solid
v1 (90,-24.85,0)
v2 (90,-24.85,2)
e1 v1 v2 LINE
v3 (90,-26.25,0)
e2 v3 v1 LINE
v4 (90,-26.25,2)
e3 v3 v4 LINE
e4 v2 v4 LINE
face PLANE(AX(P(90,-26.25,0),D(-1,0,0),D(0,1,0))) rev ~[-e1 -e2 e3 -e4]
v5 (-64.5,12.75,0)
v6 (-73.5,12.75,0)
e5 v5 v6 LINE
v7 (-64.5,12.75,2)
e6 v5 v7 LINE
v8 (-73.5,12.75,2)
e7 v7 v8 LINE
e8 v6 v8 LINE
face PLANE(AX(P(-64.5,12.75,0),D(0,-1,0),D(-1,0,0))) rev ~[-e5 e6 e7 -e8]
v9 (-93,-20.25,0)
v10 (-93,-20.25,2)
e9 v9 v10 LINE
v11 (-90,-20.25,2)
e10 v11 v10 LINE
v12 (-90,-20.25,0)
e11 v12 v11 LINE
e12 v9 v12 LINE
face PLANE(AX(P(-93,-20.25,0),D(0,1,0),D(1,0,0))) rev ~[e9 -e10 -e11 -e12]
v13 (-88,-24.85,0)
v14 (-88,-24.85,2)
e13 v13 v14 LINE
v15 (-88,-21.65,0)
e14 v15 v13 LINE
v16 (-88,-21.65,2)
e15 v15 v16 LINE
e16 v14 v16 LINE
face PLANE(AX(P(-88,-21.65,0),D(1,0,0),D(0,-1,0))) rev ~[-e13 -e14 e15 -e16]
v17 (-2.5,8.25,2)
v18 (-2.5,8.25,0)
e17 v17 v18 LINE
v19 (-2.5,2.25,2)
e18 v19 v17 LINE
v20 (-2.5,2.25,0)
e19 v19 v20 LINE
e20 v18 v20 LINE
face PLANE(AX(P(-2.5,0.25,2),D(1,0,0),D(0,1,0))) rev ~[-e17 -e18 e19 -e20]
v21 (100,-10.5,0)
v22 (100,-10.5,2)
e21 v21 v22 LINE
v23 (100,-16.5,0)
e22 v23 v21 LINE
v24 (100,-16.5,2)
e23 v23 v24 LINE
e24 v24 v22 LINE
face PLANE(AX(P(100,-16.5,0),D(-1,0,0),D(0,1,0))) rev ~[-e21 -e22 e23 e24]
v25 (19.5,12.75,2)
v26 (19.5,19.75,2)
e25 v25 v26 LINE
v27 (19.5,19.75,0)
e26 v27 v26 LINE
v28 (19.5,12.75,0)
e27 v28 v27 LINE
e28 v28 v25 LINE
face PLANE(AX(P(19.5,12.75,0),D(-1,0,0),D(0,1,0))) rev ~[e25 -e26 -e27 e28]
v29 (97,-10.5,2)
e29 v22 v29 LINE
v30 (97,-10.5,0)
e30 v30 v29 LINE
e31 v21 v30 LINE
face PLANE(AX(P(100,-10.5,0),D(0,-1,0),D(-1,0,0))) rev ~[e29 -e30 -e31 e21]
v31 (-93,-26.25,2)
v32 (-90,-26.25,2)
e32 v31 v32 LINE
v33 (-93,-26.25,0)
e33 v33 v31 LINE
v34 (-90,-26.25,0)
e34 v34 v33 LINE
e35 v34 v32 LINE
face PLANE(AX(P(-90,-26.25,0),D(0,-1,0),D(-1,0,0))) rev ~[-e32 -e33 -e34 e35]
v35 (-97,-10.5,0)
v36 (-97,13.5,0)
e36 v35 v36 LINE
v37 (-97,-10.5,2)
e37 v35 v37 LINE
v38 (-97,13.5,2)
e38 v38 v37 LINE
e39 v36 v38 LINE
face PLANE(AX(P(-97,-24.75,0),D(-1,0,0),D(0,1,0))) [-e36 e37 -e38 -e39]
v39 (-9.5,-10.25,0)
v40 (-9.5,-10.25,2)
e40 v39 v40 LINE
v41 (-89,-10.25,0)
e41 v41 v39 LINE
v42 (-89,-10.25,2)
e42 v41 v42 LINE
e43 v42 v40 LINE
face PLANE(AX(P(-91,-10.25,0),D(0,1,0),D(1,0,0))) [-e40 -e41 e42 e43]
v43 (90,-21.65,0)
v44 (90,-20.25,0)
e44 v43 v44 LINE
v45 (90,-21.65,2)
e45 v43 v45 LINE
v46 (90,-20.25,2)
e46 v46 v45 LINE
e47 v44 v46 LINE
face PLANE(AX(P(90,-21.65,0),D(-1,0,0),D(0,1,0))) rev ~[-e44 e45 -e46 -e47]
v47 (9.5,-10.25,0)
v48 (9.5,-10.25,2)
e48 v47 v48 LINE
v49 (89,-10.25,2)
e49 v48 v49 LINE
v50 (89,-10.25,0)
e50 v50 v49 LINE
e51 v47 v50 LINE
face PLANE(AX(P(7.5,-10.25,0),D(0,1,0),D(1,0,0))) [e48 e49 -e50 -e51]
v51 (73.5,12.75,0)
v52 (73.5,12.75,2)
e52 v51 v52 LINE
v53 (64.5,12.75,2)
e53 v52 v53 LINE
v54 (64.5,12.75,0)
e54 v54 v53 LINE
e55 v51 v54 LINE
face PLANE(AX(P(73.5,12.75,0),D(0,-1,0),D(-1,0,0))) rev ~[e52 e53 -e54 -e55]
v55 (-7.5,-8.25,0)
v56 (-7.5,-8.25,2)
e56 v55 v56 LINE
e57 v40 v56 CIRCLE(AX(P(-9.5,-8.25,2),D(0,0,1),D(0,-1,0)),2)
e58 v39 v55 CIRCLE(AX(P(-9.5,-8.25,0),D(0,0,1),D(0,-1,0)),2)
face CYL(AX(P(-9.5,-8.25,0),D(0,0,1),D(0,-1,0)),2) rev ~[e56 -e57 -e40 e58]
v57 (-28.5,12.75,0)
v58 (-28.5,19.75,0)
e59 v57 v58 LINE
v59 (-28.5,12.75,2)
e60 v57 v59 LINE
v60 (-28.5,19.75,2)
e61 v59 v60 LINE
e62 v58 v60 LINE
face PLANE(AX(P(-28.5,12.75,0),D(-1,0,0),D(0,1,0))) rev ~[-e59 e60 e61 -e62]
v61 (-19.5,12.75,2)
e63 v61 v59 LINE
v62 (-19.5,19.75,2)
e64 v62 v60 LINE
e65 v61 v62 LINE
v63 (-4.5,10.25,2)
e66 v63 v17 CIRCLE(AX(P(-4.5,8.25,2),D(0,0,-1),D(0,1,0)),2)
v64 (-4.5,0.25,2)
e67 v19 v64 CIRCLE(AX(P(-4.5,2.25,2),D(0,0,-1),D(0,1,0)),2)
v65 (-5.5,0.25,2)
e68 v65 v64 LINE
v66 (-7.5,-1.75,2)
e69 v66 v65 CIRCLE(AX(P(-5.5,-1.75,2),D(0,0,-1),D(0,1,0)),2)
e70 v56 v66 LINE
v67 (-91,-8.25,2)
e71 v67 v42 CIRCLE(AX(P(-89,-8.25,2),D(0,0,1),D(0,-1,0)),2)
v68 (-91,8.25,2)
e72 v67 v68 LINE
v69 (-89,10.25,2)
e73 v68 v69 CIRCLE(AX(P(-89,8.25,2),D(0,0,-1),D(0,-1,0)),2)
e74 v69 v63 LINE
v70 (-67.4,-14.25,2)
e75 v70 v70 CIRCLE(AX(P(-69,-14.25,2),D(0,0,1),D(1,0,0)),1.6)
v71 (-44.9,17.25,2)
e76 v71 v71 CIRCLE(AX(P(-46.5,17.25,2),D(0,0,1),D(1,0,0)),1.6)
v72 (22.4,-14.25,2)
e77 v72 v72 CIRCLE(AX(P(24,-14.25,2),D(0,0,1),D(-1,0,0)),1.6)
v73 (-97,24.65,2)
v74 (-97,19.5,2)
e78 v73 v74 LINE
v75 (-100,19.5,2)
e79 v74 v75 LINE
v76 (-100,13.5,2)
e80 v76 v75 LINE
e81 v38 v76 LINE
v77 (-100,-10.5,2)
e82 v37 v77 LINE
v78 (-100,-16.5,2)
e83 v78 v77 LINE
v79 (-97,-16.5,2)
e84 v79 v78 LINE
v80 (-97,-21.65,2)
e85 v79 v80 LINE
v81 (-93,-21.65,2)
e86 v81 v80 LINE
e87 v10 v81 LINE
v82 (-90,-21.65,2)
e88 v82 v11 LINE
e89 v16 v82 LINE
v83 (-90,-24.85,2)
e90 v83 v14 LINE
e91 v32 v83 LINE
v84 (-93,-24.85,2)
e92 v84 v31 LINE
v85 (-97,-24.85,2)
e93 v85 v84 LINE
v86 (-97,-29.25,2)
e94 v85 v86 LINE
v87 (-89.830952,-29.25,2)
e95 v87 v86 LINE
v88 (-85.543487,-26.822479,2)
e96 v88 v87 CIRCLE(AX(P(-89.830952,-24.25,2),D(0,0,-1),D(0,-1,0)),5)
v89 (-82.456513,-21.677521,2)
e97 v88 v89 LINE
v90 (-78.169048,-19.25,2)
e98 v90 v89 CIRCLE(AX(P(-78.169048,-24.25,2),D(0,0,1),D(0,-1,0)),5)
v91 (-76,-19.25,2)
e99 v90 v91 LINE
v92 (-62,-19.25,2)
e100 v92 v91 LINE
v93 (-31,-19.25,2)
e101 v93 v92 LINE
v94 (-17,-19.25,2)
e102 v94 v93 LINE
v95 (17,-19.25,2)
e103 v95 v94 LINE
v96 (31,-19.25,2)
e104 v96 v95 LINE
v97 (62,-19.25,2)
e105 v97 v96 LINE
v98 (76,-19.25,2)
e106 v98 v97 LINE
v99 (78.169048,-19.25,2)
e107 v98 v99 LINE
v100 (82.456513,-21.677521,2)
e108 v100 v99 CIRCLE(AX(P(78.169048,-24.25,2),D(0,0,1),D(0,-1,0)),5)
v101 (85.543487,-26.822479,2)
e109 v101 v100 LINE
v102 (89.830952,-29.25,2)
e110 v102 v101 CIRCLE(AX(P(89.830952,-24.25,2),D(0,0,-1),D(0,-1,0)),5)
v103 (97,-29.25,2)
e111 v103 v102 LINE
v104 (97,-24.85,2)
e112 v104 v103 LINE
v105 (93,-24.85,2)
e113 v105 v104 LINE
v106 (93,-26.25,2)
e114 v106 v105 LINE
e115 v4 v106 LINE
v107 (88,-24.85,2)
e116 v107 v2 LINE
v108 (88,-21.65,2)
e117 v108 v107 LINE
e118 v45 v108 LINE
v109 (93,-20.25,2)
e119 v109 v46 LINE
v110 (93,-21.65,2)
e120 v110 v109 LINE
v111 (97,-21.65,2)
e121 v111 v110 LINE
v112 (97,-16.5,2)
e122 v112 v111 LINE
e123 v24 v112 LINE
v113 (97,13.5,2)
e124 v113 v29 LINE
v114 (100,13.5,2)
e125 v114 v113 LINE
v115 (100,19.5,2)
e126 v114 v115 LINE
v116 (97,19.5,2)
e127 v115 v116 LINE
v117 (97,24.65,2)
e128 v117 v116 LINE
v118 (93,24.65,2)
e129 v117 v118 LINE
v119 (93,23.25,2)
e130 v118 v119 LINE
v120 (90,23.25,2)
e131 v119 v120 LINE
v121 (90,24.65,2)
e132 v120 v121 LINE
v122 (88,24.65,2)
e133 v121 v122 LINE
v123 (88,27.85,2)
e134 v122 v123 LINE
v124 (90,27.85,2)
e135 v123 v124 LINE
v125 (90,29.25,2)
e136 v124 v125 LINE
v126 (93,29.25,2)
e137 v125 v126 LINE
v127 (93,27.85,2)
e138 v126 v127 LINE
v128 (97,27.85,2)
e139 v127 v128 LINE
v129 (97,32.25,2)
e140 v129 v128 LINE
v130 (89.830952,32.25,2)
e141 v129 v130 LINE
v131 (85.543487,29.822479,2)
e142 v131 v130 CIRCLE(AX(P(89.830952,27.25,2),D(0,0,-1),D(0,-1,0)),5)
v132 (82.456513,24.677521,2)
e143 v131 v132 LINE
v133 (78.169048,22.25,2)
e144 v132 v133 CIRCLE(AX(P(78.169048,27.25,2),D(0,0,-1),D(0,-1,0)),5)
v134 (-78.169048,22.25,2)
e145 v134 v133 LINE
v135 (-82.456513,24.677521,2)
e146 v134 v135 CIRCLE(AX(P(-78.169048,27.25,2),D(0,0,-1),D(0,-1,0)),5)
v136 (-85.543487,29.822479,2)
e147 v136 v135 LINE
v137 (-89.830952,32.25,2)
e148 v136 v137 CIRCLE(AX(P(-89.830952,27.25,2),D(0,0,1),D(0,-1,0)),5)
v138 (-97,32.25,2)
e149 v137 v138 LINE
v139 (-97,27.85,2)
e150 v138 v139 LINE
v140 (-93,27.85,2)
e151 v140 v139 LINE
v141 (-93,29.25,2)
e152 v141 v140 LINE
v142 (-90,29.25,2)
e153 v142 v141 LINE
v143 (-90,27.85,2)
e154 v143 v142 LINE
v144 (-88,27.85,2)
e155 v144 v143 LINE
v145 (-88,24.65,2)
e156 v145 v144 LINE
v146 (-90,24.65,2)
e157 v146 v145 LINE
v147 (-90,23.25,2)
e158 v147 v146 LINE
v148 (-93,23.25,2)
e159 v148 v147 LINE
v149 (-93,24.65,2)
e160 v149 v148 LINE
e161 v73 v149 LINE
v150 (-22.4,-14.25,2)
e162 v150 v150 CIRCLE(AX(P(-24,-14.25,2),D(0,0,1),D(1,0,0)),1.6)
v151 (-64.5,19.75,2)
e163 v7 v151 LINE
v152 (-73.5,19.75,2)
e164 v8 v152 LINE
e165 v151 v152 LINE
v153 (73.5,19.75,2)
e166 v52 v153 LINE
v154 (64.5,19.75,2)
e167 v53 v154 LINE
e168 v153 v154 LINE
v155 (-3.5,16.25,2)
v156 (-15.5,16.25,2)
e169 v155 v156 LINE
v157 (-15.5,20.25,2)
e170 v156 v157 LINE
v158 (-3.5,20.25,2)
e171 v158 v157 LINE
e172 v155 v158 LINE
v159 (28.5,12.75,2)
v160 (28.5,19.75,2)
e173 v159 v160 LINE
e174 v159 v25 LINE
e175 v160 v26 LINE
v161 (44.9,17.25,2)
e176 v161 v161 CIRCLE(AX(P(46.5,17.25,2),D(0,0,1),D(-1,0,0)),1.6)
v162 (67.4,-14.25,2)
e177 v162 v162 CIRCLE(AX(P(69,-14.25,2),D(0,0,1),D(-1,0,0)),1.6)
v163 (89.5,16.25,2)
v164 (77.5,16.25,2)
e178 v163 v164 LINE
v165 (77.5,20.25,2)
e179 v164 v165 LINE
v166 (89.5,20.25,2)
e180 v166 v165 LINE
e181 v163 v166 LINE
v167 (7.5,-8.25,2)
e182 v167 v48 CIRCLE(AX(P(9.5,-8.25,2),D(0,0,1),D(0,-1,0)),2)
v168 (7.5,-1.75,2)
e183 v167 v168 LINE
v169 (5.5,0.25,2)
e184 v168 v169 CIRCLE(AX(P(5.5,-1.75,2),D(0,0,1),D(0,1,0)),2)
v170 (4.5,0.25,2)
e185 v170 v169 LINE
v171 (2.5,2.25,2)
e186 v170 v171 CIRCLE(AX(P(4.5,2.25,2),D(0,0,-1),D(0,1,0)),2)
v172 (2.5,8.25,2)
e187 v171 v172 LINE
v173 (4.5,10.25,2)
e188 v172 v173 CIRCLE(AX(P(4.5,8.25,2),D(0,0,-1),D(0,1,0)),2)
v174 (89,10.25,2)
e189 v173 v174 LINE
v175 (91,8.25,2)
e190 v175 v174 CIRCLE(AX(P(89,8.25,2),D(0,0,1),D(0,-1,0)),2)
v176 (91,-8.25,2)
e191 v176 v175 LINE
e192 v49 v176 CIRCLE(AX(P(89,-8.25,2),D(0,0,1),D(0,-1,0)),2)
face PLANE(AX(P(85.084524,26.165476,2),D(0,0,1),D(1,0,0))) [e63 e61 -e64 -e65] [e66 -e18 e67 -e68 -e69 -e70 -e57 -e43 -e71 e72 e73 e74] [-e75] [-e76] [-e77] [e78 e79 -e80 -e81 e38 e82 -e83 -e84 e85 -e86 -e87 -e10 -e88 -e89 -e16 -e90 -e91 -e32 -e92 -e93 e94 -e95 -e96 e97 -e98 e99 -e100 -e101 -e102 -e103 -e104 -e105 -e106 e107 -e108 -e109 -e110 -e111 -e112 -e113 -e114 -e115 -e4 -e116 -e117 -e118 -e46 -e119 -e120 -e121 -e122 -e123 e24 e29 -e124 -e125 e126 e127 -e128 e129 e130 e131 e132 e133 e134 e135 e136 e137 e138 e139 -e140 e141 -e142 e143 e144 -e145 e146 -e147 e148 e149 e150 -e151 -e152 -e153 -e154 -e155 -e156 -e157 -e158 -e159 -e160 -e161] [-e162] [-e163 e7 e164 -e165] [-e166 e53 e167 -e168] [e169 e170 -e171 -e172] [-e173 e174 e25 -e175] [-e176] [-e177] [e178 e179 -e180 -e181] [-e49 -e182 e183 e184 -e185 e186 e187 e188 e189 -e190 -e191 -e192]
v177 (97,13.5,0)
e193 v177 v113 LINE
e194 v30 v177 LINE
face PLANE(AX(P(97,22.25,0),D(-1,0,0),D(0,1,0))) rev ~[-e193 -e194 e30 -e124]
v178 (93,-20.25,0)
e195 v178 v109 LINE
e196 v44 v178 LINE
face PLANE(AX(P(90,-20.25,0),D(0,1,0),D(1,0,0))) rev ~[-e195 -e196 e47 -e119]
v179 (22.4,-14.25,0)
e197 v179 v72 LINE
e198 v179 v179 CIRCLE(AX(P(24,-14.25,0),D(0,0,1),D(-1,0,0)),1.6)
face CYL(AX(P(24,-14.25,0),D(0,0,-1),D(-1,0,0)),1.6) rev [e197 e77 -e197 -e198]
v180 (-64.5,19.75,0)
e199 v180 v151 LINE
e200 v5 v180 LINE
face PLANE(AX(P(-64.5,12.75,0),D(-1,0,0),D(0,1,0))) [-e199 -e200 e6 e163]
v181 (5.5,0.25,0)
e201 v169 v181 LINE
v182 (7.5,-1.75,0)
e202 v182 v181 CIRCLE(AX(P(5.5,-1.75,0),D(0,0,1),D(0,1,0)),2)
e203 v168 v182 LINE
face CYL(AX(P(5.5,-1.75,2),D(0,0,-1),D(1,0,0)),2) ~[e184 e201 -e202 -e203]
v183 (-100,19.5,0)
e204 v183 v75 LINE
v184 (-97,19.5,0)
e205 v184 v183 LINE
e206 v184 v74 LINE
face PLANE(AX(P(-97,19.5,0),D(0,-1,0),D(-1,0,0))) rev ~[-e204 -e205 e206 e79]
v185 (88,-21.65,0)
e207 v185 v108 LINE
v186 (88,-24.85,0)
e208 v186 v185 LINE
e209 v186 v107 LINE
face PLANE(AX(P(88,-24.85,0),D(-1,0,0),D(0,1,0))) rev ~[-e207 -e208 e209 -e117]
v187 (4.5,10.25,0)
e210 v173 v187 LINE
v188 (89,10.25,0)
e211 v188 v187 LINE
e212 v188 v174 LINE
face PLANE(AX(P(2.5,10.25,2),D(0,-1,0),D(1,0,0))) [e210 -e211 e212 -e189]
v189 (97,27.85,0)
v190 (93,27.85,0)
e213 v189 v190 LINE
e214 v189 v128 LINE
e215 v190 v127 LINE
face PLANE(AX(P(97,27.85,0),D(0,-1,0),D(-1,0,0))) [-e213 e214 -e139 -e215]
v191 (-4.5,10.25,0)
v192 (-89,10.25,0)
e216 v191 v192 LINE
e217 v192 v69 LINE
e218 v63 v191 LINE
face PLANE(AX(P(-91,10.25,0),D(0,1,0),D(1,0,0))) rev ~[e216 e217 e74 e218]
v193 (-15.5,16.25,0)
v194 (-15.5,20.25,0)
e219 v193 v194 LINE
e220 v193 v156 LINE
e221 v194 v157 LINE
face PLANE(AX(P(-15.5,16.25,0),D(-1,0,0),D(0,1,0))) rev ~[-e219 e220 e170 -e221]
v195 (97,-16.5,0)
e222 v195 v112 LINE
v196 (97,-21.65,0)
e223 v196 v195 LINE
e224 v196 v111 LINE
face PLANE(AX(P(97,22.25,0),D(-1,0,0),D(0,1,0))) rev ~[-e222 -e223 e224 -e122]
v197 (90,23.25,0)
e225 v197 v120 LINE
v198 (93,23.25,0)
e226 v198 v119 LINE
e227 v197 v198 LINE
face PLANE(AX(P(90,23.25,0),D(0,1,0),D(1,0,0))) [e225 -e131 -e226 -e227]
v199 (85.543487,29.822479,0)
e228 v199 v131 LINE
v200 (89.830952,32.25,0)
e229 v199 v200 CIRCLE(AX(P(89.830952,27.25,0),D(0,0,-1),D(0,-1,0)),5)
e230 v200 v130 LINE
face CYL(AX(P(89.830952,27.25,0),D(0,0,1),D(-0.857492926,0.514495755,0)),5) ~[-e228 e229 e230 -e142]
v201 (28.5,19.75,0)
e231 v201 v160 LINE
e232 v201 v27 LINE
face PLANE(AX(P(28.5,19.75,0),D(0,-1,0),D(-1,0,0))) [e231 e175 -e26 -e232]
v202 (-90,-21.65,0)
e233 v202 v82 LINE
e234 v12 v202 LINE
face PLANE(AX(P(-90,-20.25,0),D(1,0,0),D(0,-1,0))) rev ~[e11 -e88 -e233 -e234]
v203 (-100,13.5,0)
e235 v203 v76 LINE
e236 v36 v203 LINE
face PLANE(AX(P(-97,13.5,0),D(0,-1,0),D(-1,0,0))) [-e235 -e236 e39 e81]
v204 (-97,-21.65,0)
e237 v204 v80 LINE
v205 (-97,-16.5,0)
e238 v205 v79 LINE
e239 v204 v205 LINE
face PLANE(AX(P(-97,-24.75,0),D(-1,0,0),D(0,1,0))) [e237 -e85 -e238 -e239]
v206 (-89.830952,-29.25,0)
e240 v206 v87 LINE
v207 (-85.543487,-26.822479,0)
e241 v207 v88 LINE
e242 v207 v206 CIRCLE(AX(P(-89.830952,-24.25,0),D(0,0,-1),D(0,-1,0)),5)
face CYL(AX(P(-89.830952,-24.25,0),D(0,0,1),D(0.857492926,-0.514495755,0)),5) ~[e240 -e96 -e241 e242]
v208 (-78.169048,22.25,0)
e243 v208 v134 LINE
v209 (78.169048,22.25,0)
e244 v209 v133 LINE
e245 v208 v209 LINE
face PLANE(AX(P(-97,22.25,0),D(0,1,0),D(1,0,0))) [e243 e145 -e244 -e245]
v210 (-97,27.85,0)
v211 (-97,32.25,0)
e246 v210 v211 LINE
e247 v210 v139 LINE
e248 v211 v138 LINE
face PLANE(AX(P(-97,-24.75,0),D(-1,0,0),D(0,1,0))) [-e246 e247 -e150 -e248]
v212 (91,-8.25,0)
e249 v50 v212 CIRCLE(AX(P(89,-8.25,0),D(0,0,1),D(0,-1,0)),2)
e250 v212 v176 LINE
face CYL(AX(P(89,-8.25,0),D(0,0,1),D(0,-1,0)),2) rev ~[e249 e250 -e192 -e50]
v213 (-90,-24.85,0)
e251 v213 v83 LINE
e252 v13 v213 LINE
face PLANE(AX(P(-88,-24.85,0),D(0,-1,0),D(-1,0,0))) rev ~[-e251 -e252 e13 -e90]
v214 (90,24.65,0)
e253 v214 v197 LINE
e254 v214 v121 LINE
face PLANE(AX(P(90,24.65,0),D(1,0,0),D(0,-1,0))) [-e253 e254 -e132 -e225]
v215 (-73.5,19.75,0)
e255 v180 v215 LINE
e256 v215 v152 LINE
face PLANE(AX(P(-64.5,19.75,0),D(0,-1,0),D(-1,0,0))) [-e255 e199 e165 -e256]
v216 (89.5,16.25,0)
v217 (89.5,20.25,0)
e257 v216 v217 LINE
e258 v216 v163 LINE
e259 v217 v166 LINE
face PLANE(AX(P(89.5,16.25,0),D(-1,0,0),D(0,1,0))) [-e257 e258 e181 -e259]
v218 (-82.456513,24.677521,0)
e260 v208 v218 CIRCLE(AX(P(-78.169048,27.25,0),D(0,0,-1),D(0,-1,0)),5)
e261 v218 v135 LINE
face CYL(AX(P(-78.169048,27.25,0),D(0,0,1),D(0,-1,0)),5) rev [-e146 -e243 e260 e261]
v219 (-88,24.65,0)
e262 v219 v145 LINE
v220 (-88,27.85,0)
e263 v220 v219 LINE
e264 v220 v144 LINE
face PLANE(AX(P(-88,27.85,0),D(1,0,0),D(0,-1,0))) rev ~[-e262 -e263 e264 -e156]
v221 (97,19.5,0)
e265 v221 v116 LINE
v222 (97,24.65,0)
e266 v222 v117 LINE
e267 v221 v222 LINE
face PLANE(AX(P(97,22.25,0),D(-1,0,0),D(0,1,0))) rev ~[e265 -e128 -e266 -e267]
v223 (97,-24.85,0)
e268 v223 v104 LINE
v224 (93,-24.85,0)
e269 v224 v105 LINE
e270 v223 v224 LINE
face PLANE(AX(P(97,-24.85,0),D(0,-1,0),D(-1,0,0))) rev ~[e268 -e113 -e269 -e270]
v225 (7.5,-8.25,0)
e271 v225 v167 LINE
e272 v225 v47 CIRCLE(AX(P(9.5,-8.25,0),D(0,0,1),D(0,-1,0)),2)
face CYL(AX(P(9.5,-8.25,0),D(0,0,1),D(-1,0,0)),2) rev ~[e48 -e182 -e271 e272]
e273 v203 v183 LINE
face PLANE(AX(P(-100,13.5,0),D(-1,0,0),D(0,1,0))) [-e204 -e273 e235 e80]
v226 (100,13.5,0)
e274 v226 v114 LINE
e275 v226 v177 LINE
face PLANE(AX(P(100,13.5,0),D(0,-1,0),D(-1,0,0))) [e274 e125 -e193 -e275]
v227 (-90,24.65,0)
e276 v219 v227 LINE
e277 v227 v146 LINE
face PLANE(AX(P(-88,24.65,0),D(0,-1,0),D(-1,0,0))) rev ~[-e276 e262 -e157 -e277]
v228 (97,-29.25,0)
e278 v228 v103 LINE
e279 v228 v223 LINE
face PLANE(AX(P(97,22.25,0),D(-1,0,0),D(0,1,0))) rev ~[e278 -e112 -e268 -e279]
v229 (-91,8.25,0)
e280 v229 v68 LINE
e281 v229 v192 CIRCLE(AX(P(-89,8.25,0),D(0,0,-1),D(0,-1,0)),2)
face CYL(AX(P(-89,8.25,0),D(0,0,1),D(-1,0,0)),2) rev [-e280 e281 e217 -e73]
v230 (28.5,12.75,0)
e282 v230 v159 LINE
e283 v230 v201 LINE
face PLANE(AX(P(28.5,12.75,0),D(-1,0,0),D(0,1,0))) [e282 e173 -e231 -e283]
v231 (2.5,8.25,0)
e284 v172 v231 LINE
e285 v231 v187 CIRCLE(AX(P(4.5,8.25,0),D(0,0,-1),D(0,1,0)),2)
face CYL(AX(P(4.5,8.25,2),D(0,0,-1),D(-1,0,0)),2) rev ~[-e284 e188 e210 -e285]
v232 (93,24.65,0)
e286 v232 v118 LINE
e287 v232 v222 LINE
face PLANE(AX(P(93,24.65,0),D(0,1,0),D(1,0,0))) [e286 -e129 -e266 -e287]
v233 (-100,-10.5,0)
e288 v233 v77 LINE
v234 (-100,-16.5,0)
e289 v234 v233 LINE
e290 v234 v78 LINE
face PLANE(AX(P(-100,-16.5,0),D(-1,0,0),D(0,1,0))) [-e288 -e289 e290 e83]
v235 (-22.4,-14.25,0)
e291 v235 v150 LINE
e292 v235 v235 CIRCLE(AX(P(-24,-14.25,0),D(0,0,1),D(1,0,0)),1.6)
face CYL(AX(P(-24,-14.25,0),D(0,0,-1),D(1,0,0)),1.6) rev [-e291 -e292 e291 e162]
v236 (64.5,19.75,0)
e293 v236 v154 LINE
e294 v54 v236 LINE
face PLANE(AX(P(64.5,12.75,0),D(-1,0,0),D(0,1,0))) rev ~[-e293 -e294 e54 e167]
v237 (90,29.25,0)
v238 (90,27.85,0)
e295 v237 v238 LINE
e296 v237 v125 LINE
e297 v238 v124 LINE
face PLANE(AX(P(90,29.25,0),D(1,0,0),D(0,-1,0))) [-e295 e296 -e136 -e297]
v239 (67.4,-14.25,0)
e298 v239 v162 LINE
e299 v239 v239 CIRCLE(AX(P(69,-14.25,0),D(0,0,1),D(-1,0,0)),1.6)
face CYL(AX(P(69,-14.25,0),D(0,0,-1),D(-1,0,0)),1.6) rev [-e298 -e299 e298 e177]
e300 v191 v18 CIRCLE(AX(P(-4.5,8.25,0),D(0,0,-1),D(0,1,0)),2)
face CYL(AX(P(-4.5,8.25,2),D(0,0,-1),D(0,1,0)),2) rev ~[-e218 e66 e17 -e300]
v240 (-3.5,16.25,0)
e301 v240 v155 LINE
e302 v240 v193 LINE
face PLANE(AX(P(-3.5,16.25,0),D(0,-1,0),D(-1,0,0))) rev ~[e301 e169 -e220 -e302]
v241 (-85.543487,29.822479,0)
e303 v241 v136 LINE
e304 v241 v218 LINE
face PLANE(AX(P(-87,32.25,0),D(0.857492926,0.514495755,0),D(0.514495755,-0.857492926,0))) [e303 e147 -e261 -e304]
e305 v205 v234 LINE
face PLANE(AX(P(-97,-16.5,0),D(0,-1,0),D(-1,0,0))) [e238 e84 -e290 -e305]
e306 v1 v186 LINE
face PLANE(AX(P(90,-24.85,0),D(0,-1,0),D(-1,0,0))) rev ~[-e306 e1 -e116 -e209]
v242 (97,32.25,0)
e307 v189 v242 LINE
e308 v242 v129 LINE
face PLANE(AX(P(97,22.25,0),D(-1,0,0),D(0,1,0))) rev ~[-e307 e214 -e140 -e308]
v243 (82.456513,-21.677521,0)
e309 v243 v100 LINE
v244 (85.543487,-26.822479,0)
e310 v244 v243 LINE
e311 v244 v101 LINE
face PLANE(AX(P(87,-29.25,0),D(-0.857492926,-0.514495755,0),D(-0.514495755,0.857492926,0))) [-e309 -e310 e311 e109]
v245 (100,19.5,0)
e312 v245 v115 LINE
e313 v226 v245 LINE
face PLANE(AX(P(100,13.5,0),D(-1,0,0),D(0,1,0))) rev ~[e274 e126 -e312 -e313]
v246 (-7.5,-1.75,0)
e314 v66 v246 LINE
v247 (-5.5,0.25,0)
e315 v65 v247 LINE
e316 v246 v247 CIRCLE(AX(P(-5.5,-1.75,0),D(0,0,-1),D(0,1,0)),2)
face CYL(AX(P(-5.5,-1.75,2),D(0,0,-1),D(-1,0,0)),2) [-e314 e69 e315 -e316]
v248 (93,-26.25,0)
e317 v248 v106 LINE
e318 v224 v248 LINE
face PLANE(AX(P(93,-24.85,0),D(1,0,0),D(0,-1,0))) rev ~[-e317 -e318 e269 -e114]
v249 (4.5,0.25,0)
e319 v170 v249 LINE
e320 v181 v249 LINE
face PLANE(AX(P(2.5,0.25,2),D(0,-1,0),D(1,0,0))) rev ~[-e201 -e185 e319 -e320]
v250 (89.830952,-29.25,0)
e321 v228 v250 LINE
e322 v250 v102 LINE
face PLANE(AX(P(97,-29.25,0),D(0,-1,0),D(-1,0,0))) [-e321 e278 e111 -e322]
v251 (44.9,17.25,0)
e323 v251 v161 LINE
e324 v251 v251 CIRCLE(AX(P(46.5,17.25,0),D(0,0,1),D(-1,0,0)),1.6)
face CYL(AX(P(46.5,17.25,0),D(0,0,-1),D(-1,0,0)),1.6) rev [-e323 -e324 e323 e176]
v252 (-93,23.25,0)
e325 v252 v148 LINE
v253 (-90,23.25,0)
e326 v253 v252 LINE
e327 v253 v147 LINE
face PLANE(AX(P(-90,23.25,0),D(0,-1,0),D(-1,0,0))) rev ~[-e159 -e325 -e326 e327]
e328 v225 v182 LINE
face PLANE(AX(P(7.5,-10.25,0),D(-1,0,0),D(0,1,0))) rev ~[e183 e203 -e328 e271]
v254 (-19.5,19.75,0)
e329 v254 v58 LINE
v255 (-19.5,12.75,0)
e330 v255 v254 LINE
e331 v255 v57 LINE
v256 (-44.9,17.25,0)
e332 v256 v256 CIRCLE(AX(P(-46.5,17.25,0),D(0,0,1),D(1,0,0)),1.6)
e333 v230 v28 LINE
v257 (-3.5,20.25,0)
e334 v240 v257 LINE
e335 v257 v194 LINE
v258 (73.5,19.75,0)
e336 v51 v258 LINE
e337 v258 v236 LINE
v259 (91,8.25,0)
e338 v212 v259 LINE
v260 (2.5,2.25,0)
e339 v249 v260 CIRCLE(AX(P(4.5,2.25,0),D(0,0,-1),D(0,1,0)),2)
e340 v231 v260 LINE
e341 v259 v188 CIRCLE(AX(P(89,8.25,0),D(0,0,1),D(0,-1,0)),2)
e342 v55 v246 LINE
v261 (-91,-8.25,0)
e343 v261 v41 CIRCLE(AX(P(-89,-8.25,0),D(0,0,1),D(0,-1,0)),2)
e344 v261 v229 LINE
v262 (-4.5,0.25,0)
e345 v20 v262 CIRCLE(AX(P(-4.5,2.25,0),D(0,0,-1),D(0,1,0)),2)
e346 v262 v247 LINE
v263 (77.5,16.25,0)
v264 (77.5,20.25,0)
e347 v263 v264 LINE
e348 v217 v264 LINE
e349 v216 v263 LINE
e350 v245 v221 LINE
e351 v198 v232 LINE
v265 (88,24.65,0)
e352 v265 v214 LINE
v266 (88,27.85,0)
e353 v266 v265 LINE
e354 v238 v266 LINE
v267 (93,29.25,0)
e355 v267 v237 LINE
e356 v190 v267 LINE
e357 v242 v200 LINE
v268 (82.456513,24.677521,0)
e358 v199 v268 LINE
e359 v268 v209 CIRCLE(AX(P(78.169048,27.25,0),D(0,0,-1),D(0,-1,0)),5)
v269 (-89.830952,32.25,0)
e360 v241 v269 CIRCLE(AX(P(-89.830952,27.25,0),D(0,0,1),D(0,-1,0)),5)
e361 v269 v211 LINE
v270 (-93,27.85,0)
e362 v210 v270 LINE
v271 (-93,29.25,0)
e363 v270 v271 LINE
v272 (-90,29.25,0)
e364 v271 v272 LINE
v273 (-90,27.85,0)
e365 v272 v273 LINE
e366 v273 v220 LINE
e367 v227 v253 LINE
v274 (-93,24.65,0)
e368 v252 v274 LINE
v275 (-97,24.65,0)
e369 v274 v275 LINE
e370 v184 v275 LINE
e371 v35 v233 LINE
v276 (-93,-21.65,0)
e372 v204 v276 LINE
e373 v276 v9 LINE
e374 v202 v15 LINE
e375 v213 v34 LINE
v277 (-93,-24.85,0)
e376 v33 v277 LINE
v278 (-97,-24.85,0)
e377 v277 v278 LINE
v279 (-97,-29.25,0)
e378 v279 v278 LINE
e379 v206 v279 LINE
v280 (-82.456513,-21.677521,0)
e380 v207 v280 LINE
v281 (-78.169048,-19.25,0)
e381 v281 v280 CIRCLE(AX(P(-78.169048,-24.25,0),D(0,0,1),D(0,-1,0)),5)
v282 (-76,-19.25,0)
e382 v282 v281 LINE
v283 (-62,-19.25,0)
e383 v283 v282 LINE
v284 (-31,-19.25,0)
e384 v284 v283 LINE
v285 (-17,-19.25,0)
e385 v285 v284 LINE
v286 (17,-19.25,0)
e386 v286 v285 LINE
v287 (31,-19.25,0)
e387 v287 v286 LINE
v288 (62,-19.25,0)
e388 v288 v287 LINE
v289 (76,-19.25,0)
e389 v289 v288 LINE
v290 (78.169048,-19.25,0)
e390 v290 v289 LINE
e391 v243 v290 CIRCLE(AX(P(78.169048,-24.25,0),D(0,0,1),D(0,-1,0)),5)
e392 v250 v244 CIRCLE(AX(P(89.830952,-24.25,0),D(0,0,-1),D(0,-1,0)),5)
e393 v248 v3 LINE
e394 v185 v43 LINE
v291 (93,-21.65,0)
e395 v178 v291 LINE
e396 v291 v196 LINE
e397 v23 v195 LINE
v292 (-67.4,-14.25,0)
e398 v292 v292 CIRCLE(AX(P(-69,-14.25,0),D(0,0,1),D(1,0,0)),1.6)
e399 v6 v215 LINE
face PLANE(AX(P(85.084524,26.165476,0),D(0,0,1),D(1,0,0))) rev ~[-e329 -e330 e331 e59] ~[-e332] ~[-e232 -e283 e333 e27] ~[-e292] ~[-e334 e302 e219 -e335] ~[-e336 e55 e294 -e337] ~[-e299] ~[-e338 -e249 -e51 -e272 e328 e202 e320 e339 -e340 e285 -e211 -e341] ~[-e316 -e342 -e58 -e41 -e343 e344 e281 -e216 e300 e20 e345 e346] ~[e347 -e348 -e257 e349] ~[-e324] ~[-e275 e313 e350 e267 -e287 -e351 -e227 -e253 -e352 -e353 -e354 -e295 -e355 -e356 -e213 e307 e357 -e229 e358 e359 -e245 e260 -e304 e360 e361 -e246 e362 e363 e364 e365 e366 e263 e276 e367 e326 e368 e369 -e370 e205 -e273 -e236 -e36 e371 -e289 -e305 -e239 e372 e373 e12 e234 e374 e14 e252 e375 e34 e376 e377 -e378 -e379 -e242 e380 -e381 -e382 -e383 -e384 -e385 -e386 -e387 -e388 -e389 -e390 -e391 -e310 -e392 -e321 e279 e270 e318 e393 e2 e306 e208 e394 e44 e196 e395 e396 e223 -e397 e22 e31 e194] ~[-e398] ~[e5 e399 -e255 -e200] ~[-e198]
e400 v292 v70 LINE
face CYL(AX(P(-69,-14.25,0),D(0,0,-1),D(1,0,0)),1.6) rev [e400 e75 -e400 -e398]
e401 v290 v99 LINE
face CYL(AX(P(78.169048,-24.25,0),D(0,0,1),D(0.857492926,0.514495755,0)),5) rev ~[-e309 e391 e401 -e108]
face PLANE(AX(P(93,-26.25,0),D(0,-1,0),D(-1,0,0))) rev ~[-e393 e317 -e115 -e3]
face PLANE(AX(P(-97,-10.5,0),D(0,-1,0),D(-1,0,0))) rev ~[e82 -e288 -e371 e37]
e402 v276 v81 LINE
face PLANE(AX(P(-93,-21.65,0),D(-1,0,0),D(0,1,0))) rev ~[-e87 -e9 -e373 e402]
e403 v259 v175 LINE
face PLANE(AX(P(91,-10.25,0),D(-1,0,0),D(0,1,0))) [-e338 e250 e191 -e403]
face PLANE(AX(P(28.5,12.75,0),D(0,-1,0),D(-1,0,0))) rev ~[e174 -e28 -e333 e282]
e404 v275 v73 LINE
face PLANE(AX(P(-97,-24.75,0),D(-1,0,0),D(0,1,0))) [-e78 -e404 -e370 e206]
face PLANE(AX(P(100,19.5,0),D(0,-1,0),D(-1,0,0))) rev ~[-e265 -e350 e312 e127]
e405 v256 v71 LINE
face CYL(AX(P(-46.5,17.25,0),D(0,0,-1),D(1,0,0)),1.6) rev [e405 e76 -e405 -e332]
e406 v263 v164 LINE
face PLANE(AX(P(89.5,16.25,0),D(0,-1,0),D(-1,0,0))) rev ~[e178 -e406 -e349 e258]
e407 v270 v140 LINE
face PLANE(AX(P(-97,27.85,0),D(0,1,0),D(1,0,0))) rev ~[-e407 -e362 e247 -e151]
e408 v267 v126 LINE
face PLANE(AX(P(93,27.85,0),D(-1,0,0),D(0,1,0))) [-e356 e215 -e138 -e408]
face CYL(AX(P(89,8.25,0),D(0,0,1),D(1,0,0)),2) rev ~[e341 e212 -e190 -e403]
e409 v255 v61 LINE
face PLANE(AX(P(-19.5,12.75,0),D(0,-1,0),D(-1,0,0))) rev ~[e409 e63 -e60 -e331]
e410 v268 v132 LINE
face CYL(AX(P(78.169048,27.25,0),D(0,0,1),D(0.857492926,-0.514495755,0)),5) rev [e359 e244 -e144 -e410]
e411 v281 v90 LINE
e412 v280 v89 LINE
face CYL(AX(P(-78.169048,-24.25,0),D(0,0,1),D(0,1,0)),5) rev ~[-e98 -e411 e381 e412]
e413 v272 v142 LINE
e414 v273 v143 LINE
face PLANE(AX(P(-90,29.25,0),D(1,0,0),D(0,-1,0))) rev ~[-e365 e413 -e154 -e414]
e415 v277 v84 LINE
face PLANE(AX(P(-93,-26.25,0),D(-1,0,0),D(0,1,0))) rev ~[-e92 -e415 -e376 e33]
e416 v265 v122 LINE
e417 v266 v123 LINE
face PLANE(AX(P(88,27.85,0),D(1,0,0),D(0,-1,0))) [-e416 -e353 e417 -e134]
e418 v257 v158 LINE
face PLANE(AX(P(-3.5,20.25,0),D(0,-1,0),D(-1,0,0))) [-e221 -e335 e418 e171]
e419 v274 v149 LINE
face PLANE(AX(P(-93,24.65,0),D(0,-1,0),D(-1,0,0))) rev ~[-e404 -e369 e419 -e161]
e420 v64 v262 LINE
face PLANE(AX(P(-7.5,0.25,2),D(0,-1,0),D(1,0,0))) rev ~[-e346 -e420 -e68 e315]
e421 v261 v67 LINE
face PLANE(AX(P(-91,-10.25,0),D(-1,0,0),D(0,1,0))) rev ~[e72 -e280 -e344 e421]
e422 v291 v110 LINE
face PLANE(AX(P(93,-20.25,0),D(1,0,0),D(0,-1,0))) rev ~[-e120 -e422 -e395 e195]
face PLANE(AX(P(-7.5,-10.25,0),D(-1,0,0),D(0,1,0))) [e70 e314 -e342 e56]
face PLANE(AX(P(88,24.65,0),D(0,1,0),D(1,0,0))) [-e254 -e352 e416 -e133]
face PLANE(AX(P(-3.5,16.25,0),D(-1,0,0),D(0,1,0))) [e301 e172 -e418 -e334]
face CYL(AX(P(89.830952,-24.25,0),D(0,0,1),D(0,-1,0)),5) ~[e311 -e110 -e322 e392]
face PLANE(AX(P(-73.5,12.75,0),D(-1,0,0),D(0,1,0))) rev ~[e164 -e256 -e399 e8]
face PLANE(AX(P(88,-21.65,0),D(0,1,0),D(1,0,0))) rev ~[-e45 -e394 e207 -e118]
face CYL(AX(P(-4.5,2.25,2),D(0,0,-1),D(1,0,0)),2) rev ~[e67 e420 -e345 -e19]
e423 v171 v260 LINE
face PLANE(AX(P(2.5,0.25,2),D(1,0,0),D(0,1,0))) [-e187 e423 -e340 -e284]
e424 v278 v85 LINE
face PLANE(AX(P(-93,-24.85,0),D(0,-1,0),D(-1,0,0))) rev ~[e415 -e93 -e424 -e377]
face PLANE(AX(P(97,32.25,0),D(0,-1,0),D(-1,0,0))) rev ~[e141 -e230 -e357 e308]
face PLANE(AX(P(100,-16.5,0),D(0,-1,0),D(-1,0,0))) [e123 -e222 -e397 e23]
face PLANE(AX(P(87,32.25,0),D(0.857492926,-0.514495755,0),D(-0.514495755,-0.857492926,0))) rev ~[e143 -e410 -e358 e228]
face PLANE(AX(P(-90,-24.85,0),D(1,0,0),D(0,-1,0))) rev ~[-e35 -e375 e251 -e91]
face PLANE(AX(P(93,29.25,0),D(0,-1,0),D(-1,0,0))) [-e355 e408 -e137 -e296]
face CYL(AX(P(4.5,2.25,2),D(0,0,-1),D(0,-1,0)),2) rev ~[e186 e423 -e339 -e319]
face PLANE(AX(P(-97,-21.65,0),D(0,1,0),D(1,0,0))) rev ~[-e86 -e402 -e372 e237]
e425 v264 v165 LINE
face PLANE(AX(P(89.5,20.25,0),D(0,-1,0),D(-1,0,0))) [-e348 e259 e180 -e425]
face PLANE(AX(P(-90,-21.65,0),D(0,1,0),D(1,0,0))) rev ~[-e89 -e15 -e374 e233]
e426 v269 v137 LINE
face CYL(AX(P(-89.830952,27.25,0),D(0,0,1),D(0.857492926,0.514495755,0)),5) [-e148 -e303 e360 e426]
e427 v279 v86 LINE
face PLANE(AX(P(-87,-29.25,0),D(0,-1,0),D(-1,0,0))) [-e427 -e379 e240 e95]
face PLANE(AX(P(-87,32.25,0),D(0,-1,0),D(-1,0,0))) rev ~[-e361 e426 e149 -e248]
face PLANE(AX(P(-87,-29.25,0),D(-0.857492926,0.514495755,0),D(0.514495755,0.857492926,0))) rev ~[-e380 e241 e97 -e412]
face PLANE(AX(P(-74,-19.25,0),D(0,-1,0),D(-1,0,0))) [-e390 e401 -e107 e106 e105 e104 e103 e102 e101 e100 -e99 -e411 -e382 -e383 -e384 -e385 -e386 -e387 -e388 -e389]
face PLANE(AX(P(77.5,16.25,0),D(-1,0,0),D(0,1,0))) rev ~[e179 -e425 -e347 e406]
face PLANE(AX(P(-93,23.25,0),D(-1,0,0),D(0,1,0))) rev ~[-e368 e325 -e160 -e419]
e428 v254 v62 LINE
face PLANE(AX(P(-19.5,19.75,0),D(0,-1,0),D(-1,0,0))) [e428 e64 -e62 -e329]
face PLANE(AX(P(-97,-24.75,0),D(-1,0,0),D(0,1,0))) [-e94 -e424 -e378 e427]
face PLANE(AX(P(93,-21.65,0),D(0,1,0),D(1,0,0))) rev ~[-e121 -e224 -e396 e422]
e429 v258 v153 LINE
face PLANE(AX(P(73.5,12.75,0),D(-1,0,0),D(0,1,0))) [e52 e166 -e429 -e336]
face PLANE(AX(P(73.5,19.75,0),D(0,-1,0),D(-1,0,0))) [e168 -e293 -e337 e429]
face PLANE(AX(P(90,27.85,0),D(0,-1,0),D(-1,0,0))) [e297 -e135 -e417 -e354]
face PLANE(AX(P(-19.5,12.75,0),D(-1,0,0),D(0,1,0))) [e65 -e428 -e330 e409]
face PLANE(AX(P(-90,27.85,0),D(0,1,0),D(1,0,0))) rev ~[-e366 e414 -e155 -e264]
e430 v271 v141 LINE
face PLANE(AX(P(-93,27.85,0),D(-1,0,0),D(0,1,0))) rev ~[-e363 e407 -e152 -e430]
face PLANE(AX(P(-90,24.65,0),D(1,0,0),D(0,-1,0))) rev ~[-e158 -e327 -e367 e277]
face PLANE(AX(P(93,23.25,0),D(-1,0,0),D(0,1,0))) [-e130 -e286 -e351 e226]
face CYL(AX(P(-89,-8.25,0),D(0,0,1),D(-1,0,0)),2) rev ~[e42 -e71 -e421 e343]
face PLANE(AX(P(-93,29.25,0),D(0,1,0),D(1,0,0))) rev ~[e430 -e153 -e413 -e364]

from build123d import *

# Parameters (mm, degrees)
SKETCH_1_R          = 1.6
SKETCH_1_W          = 83.5
SKETCH_1_H          = 20.5
EXTRUDE_1_DEPTH     = 2
SKETCH_3_W          = 5
SKETCH_3_H          = 10
CUT_EXTRUDE_2_DEPTH = 101.127730924
SKETCH_4_W          = 9
SKETCH_4_H          = 7
SKETCH_4_W_2        = 23
SKETCH_4_H_2        = 5.5
SKETCH_4_W_3        = 38
CUT_EXTRUDE_3_DEPTH = 101.127730924
SKETCH_5_W          = 12
SKETCH_5_H          = 4
CUT_EXTRUDE_4_DEPTH = 101.127730924
FILLET_8_R          = 2
FILLET_9_R          = 2
SKETCH_7_W          = 10
SKETCH_7_H          = 10
EXTRUDE_3_DEPTH     = 2
SKETCH_9_W          = 162.568913239
SKETCH_9_H          = 21.283892233
CUT_EXTRUDE_5_DEPTH = 103.240219581
SKETCH_8_W          = 3
SKETCH_8_H          = 6
EXTRUDE_4_DEPTH     = 2
CUT_EXTRUDE_6_DEPTH = 106.090734606
FILLET_10_R         = 5


with BuildPart() as part:
    # 草图1 → 凸台-拉伸1 (new body)
    with BuildSketch(Plane.XY):
        Polygon((64, -19.25), (29, -19.25), (29, -24.75), (-29, -24.75), (-29, -19.25), (-64, -19.25), (-64, -24.75), (-97, -24.75), (-97, 22.25), (97, 22.25), (97, -24.75), (64, -24.75), align=None)
        with Locations((-46.5, 17.25)):
            Circle(SKETCH_1_R, mode=Mode.SUBTRACT)
        with Locations((-69, -14.25)):
            Circle(SKETCH_1_R, mode=Mode.SUBTRACT)
        with Locations((-24, -14.25)):
            Circle(SKETCH_1_R, mode=Mode.SUBTRACT)
        with Locations(Location((69, -14.25, 0), (0, 0, 180))):
            Circle(SKETCH_1_R, mode=Mode.SUBTRACT)
        with Locations(Location((46.5, 17.25, 0), (0, 0, 180))):
            Circle(SKETCH_1_R, mode=Mode.SUBTRACT)
        with Locations(Location((24, -14.25, 0), (0, 0, 180))):
            Circle(SKETCH_1_R, mode=Mode.SUBTRACT)
        with Locations((-69, -21.75)):
            Circle(SKETCH_1_R, mode=Mode.SUBTRACT)
        with Locations((-24, -21.75)):
            Circle(SKETCH_1_R, mode=Mode.SUBTRACT)
        with Locations((24, -21.75)):
            Circle(SKETCH_1_R, mode=Mode.SUBTRACT)
        with Locations((69, -21.75)):
            Circle(SKETCH_1_R, mode=Mode.SUBTRACT)
        with Locations((-49.25, 0)):
            Rectangle(SKETCH_1_W, SKETCH_1_H, mode=Mode.SUBTRACT)
        with Locations((49.25, 0)):
            Rectangle(SKETCH_1_W, SKETCH_1_H, mode=Mode.SUBTRACT)
    extrude(amount=EXTRUDE_1_DEPTH)

    # 草图3 → 切除-拉伸2 (cut, through all)
    with BuildSketch(Plane.XY.offset(2)):
        with Locations((-5, 5.25)):
            Rectangle(SKETCH_3_W, SKETCH_3_H)
        with Locations((5, 5.25)):
            Rectangle(SKETCH_3_W, SKETCH_3_H)
    extrude(amount=-CUT_EXTRUDE_2_DEPTH, mode=Mode.SUBTRACT)

    # 草图4 → 切除-拉伸3 (cut, through all)
    with BuildSketch(Plane(origin=(0, 0, 0), x_dir=(-1, 0, 0), z_dir=(0, 0, -1))):
        with Locations((-69, 16.25)):
            Rectangle(SKETCH_4_W, SKETCH_4_H)
        with Locations((-24, 16.25)):
            Rectangle(SKETCH_4_W, SKETCH_4_H)
        with Locations((24, 16.25)):
            Rectangle(SKETCH_4_W, SKETCH_4_H)
        with Locations((69, 16.25)):
            Rectangle(SKETCH_4_W, SKETCH_4_H)
        with Locations((-85.5, -22)):
            Rectangle(SKETCH_4_W_2, SKETCH_4_H_2)
        with Locations((85.5, -22)):
            Rectangle(SKETCH_4_W_2, SKETCH_4_H_2)
        with Locations((0, -22)):
            Rectangle(SKETCH_4_W_3, SKETCH_4_H_2)
    extrude(amount=-CUT_EXTRUDE_3_DEPTH, mode=Mode.SUBTRACT)

    # 草图5 → 切除-拉伸4 (cut, through all)
    with BuildSketch(Plane(origin=(0, 0, 0), x_dir=(-1, 0, 0), z_dir=(0, 0, -1))):
        with Locations((-83.5, 18.25)):
            Rectangle(SKETCH_5_W, SKETCH_5_H)
        with Locations((9.5, 18.25)):
            Rectangle(SKETCH_5_W, SKETCH_5_H)
    extrude(amount=-CUT_EXTRUDE_4_DEPTH, mode=Mode.SUBTRACT)

    # 圆角8
    fillet_8_edges = [part.edges().sort_by_distance(p)[0] for p in [
        (-7.5, 0.25, 1),
        (-2.5, 10.25, 1),
        (-2.5, 0.25, 1),
        (7.5, 0.25, 1),
        (2.5, 0.25, 1),
        (2.5, 10.25, 1),
        (-91, 10.25, 1),
        (-91, -10.25, 1),
        (-7.5, -10.25, 1),
        (7.5, -10.25, 1),
        (91, -10.25, 1),
        (91, 10.25, 1),
    ]]
    fillet(fillet_8_edges, radius=FILLET_8_R)

    # 圆角9
    fillet_9_edges = [part.edges().sort_by_distance(p)[0] for p in [
        (74, -19.25, 1),
        (74, -24.75, 1),
        (-74, -24.75, 1),
        (-74, -19.25, 1),
        (19, -24.75, 1),
        (19, -19.25, 1),
        (64, -24.75, 1),
        (-19, -19.25, 1),
        (-19, -24.75, 1),
        (64, -19.25, 1),
        (29, -19.25, 1),
        (29, -24.75, 1),
        (-29, -24.75, 1),
        (-29, -19.25, 1),
        (-64, -19.25, 1),
        (-64, -24.75, 1),
    ]]
    fillet(fillet_9_edges, radius=FILLET_9_R)

    # 草图7 → 凸台-拉伸3 (add)
    with BuildSketch(Plane(origin=(0, 0, 0), x_dir=(-1, 0, 0), z_dir=(0, 0, -1))):
        with Locations((-92, 27.25)):
            Rectangle(SKETCH_7_W, SKETCH_7_H)
        with Locations((-92, -24.25)):
            Rectangle(SKETCH_7_W, SKETCH_7_H)
        with Locations((92, 27.25)):
            Rectangle(SKETCH_7_W, SKETCH_7_H)
        with Locations((92, -24.25)):
            Rectangle(SKETCH_7_W, SKETCH_7_H)
    extrude(amount=-EXTRUDE_3_DEPTH)

    # 草图9 → 切除-拉伸5 (cut, through all)
    with BuildSketch(Plane(origin=(0, 0, 0), x_dir=(-1, 0, 0), z_dir=(0, 0, -1))):
        with Locations((0.619782194, -29.891946117)):
            Rectangle(SKETCH_9_W, SKETCH_9_H)
    extrude(amount=-CUT_EXTRUDE_5_DEPTH, mode=Mode.SUBTRACT)

    # 草图8 → 凸台-拉伸4 (add)
    with BuildSketch(Plane(origin=(0, 0, 0), x_dir=(-1, 0, 0), z_dir=(0, 0, -1))):
        Polygon((-87, 32.25), (-81, 22.25), (-87, 22.25), align=None)
        Polygon((87, 32.25), (81, 22.25), (87, 22.25), align=None)
        Polygon((-87, -29.25), (-81, -19.25), (-87, -19.25), align=None)
        Polygon((87, -29.25), (81, -19.25), (87, -19.25), align=None)
        with Locations((-98.5, 16.5)):
            Rectangle(SKETCH_8_W, SKETCH_8_H)
        with Locations((-98.5, -13.5)):
            Rectangle(SKETCH_8_W, SKETCH_8_H)
        with Locations((98.5, -13.5)):
            Rectangle(SKETCH_8_W, SKETCH_8_H)
        with Locations((98.5, 16.5)):
            Rectangle(SKETCH_8_W, SKETCH_8_H)
    extrude(amount=-EXTRUDE_4_DEPTH)

    # 草图10 → 切除-拉伸6 (cut, through all)
    with BuildSketch(Plane(origin=(0, 0, 0), x_dir=(-1, 0, 0), z_dir=(0, 0, -1))):
        Polygon((-97, 27.85), (-93, 27.85), (-93, 29.25), (-90, 29.25), (-90, 27.85), (-88, 27.85), (-88, 24.65), (-90, 24.65), (-90, 23.25), (-93, 23.25), (-93, 24.65), (-97, 24.65), align=None)
        Polygon((-97, -24.85), (-93, -24.85), (-93, -26.25), (-90, -26.25), (-90, -24.85), (-88, -24.85), (-88, -21.65), (-90, -21.65), (-90, -20.25), (-93, -20.25), (-93, -21.65), (-97, -21.65), align=None)
        Polygon((97, -24.85), (97, -21.65), (93, -21.65), (93, -20.25), (90, -20.25), (90, -21.65), (88, -21.65), (88, -24.85), (90, -24.85), (90, -26.25), (93, -26.25), (93, -24.85), align=None)
        Polygon((97, 27.85), (93, 27.85), (93, 29.25), (90, 29.25), (90, 27.85), (88, 27.85), (88, 24.65), (90, 24.65), (90, 23.25), (93, 23.25), (93, 24.65), (97, 24.65), align=None)
    extrude(amount=-CUT_EXTRUDE_6_DEPTH, mode=Mode.SUBTRACT)

    # 圆角10
    fillet_10_edges = [part.edges().sort_by_distance(p)[0] for p in [
        (87, 32.25, 1),
        (87, -29.25, 1),
        (-87, 32.25, 1),
        (-87, -29.25, 1),
        (81, 22.25, 1),
        (-81, 22.25, 1),
        (81, -19.25, 1),
        (-81, -19.25, 1),
    ]]
    fillet(fillet_10_edges, radius=FILLET_10_R)


solid = part.part
